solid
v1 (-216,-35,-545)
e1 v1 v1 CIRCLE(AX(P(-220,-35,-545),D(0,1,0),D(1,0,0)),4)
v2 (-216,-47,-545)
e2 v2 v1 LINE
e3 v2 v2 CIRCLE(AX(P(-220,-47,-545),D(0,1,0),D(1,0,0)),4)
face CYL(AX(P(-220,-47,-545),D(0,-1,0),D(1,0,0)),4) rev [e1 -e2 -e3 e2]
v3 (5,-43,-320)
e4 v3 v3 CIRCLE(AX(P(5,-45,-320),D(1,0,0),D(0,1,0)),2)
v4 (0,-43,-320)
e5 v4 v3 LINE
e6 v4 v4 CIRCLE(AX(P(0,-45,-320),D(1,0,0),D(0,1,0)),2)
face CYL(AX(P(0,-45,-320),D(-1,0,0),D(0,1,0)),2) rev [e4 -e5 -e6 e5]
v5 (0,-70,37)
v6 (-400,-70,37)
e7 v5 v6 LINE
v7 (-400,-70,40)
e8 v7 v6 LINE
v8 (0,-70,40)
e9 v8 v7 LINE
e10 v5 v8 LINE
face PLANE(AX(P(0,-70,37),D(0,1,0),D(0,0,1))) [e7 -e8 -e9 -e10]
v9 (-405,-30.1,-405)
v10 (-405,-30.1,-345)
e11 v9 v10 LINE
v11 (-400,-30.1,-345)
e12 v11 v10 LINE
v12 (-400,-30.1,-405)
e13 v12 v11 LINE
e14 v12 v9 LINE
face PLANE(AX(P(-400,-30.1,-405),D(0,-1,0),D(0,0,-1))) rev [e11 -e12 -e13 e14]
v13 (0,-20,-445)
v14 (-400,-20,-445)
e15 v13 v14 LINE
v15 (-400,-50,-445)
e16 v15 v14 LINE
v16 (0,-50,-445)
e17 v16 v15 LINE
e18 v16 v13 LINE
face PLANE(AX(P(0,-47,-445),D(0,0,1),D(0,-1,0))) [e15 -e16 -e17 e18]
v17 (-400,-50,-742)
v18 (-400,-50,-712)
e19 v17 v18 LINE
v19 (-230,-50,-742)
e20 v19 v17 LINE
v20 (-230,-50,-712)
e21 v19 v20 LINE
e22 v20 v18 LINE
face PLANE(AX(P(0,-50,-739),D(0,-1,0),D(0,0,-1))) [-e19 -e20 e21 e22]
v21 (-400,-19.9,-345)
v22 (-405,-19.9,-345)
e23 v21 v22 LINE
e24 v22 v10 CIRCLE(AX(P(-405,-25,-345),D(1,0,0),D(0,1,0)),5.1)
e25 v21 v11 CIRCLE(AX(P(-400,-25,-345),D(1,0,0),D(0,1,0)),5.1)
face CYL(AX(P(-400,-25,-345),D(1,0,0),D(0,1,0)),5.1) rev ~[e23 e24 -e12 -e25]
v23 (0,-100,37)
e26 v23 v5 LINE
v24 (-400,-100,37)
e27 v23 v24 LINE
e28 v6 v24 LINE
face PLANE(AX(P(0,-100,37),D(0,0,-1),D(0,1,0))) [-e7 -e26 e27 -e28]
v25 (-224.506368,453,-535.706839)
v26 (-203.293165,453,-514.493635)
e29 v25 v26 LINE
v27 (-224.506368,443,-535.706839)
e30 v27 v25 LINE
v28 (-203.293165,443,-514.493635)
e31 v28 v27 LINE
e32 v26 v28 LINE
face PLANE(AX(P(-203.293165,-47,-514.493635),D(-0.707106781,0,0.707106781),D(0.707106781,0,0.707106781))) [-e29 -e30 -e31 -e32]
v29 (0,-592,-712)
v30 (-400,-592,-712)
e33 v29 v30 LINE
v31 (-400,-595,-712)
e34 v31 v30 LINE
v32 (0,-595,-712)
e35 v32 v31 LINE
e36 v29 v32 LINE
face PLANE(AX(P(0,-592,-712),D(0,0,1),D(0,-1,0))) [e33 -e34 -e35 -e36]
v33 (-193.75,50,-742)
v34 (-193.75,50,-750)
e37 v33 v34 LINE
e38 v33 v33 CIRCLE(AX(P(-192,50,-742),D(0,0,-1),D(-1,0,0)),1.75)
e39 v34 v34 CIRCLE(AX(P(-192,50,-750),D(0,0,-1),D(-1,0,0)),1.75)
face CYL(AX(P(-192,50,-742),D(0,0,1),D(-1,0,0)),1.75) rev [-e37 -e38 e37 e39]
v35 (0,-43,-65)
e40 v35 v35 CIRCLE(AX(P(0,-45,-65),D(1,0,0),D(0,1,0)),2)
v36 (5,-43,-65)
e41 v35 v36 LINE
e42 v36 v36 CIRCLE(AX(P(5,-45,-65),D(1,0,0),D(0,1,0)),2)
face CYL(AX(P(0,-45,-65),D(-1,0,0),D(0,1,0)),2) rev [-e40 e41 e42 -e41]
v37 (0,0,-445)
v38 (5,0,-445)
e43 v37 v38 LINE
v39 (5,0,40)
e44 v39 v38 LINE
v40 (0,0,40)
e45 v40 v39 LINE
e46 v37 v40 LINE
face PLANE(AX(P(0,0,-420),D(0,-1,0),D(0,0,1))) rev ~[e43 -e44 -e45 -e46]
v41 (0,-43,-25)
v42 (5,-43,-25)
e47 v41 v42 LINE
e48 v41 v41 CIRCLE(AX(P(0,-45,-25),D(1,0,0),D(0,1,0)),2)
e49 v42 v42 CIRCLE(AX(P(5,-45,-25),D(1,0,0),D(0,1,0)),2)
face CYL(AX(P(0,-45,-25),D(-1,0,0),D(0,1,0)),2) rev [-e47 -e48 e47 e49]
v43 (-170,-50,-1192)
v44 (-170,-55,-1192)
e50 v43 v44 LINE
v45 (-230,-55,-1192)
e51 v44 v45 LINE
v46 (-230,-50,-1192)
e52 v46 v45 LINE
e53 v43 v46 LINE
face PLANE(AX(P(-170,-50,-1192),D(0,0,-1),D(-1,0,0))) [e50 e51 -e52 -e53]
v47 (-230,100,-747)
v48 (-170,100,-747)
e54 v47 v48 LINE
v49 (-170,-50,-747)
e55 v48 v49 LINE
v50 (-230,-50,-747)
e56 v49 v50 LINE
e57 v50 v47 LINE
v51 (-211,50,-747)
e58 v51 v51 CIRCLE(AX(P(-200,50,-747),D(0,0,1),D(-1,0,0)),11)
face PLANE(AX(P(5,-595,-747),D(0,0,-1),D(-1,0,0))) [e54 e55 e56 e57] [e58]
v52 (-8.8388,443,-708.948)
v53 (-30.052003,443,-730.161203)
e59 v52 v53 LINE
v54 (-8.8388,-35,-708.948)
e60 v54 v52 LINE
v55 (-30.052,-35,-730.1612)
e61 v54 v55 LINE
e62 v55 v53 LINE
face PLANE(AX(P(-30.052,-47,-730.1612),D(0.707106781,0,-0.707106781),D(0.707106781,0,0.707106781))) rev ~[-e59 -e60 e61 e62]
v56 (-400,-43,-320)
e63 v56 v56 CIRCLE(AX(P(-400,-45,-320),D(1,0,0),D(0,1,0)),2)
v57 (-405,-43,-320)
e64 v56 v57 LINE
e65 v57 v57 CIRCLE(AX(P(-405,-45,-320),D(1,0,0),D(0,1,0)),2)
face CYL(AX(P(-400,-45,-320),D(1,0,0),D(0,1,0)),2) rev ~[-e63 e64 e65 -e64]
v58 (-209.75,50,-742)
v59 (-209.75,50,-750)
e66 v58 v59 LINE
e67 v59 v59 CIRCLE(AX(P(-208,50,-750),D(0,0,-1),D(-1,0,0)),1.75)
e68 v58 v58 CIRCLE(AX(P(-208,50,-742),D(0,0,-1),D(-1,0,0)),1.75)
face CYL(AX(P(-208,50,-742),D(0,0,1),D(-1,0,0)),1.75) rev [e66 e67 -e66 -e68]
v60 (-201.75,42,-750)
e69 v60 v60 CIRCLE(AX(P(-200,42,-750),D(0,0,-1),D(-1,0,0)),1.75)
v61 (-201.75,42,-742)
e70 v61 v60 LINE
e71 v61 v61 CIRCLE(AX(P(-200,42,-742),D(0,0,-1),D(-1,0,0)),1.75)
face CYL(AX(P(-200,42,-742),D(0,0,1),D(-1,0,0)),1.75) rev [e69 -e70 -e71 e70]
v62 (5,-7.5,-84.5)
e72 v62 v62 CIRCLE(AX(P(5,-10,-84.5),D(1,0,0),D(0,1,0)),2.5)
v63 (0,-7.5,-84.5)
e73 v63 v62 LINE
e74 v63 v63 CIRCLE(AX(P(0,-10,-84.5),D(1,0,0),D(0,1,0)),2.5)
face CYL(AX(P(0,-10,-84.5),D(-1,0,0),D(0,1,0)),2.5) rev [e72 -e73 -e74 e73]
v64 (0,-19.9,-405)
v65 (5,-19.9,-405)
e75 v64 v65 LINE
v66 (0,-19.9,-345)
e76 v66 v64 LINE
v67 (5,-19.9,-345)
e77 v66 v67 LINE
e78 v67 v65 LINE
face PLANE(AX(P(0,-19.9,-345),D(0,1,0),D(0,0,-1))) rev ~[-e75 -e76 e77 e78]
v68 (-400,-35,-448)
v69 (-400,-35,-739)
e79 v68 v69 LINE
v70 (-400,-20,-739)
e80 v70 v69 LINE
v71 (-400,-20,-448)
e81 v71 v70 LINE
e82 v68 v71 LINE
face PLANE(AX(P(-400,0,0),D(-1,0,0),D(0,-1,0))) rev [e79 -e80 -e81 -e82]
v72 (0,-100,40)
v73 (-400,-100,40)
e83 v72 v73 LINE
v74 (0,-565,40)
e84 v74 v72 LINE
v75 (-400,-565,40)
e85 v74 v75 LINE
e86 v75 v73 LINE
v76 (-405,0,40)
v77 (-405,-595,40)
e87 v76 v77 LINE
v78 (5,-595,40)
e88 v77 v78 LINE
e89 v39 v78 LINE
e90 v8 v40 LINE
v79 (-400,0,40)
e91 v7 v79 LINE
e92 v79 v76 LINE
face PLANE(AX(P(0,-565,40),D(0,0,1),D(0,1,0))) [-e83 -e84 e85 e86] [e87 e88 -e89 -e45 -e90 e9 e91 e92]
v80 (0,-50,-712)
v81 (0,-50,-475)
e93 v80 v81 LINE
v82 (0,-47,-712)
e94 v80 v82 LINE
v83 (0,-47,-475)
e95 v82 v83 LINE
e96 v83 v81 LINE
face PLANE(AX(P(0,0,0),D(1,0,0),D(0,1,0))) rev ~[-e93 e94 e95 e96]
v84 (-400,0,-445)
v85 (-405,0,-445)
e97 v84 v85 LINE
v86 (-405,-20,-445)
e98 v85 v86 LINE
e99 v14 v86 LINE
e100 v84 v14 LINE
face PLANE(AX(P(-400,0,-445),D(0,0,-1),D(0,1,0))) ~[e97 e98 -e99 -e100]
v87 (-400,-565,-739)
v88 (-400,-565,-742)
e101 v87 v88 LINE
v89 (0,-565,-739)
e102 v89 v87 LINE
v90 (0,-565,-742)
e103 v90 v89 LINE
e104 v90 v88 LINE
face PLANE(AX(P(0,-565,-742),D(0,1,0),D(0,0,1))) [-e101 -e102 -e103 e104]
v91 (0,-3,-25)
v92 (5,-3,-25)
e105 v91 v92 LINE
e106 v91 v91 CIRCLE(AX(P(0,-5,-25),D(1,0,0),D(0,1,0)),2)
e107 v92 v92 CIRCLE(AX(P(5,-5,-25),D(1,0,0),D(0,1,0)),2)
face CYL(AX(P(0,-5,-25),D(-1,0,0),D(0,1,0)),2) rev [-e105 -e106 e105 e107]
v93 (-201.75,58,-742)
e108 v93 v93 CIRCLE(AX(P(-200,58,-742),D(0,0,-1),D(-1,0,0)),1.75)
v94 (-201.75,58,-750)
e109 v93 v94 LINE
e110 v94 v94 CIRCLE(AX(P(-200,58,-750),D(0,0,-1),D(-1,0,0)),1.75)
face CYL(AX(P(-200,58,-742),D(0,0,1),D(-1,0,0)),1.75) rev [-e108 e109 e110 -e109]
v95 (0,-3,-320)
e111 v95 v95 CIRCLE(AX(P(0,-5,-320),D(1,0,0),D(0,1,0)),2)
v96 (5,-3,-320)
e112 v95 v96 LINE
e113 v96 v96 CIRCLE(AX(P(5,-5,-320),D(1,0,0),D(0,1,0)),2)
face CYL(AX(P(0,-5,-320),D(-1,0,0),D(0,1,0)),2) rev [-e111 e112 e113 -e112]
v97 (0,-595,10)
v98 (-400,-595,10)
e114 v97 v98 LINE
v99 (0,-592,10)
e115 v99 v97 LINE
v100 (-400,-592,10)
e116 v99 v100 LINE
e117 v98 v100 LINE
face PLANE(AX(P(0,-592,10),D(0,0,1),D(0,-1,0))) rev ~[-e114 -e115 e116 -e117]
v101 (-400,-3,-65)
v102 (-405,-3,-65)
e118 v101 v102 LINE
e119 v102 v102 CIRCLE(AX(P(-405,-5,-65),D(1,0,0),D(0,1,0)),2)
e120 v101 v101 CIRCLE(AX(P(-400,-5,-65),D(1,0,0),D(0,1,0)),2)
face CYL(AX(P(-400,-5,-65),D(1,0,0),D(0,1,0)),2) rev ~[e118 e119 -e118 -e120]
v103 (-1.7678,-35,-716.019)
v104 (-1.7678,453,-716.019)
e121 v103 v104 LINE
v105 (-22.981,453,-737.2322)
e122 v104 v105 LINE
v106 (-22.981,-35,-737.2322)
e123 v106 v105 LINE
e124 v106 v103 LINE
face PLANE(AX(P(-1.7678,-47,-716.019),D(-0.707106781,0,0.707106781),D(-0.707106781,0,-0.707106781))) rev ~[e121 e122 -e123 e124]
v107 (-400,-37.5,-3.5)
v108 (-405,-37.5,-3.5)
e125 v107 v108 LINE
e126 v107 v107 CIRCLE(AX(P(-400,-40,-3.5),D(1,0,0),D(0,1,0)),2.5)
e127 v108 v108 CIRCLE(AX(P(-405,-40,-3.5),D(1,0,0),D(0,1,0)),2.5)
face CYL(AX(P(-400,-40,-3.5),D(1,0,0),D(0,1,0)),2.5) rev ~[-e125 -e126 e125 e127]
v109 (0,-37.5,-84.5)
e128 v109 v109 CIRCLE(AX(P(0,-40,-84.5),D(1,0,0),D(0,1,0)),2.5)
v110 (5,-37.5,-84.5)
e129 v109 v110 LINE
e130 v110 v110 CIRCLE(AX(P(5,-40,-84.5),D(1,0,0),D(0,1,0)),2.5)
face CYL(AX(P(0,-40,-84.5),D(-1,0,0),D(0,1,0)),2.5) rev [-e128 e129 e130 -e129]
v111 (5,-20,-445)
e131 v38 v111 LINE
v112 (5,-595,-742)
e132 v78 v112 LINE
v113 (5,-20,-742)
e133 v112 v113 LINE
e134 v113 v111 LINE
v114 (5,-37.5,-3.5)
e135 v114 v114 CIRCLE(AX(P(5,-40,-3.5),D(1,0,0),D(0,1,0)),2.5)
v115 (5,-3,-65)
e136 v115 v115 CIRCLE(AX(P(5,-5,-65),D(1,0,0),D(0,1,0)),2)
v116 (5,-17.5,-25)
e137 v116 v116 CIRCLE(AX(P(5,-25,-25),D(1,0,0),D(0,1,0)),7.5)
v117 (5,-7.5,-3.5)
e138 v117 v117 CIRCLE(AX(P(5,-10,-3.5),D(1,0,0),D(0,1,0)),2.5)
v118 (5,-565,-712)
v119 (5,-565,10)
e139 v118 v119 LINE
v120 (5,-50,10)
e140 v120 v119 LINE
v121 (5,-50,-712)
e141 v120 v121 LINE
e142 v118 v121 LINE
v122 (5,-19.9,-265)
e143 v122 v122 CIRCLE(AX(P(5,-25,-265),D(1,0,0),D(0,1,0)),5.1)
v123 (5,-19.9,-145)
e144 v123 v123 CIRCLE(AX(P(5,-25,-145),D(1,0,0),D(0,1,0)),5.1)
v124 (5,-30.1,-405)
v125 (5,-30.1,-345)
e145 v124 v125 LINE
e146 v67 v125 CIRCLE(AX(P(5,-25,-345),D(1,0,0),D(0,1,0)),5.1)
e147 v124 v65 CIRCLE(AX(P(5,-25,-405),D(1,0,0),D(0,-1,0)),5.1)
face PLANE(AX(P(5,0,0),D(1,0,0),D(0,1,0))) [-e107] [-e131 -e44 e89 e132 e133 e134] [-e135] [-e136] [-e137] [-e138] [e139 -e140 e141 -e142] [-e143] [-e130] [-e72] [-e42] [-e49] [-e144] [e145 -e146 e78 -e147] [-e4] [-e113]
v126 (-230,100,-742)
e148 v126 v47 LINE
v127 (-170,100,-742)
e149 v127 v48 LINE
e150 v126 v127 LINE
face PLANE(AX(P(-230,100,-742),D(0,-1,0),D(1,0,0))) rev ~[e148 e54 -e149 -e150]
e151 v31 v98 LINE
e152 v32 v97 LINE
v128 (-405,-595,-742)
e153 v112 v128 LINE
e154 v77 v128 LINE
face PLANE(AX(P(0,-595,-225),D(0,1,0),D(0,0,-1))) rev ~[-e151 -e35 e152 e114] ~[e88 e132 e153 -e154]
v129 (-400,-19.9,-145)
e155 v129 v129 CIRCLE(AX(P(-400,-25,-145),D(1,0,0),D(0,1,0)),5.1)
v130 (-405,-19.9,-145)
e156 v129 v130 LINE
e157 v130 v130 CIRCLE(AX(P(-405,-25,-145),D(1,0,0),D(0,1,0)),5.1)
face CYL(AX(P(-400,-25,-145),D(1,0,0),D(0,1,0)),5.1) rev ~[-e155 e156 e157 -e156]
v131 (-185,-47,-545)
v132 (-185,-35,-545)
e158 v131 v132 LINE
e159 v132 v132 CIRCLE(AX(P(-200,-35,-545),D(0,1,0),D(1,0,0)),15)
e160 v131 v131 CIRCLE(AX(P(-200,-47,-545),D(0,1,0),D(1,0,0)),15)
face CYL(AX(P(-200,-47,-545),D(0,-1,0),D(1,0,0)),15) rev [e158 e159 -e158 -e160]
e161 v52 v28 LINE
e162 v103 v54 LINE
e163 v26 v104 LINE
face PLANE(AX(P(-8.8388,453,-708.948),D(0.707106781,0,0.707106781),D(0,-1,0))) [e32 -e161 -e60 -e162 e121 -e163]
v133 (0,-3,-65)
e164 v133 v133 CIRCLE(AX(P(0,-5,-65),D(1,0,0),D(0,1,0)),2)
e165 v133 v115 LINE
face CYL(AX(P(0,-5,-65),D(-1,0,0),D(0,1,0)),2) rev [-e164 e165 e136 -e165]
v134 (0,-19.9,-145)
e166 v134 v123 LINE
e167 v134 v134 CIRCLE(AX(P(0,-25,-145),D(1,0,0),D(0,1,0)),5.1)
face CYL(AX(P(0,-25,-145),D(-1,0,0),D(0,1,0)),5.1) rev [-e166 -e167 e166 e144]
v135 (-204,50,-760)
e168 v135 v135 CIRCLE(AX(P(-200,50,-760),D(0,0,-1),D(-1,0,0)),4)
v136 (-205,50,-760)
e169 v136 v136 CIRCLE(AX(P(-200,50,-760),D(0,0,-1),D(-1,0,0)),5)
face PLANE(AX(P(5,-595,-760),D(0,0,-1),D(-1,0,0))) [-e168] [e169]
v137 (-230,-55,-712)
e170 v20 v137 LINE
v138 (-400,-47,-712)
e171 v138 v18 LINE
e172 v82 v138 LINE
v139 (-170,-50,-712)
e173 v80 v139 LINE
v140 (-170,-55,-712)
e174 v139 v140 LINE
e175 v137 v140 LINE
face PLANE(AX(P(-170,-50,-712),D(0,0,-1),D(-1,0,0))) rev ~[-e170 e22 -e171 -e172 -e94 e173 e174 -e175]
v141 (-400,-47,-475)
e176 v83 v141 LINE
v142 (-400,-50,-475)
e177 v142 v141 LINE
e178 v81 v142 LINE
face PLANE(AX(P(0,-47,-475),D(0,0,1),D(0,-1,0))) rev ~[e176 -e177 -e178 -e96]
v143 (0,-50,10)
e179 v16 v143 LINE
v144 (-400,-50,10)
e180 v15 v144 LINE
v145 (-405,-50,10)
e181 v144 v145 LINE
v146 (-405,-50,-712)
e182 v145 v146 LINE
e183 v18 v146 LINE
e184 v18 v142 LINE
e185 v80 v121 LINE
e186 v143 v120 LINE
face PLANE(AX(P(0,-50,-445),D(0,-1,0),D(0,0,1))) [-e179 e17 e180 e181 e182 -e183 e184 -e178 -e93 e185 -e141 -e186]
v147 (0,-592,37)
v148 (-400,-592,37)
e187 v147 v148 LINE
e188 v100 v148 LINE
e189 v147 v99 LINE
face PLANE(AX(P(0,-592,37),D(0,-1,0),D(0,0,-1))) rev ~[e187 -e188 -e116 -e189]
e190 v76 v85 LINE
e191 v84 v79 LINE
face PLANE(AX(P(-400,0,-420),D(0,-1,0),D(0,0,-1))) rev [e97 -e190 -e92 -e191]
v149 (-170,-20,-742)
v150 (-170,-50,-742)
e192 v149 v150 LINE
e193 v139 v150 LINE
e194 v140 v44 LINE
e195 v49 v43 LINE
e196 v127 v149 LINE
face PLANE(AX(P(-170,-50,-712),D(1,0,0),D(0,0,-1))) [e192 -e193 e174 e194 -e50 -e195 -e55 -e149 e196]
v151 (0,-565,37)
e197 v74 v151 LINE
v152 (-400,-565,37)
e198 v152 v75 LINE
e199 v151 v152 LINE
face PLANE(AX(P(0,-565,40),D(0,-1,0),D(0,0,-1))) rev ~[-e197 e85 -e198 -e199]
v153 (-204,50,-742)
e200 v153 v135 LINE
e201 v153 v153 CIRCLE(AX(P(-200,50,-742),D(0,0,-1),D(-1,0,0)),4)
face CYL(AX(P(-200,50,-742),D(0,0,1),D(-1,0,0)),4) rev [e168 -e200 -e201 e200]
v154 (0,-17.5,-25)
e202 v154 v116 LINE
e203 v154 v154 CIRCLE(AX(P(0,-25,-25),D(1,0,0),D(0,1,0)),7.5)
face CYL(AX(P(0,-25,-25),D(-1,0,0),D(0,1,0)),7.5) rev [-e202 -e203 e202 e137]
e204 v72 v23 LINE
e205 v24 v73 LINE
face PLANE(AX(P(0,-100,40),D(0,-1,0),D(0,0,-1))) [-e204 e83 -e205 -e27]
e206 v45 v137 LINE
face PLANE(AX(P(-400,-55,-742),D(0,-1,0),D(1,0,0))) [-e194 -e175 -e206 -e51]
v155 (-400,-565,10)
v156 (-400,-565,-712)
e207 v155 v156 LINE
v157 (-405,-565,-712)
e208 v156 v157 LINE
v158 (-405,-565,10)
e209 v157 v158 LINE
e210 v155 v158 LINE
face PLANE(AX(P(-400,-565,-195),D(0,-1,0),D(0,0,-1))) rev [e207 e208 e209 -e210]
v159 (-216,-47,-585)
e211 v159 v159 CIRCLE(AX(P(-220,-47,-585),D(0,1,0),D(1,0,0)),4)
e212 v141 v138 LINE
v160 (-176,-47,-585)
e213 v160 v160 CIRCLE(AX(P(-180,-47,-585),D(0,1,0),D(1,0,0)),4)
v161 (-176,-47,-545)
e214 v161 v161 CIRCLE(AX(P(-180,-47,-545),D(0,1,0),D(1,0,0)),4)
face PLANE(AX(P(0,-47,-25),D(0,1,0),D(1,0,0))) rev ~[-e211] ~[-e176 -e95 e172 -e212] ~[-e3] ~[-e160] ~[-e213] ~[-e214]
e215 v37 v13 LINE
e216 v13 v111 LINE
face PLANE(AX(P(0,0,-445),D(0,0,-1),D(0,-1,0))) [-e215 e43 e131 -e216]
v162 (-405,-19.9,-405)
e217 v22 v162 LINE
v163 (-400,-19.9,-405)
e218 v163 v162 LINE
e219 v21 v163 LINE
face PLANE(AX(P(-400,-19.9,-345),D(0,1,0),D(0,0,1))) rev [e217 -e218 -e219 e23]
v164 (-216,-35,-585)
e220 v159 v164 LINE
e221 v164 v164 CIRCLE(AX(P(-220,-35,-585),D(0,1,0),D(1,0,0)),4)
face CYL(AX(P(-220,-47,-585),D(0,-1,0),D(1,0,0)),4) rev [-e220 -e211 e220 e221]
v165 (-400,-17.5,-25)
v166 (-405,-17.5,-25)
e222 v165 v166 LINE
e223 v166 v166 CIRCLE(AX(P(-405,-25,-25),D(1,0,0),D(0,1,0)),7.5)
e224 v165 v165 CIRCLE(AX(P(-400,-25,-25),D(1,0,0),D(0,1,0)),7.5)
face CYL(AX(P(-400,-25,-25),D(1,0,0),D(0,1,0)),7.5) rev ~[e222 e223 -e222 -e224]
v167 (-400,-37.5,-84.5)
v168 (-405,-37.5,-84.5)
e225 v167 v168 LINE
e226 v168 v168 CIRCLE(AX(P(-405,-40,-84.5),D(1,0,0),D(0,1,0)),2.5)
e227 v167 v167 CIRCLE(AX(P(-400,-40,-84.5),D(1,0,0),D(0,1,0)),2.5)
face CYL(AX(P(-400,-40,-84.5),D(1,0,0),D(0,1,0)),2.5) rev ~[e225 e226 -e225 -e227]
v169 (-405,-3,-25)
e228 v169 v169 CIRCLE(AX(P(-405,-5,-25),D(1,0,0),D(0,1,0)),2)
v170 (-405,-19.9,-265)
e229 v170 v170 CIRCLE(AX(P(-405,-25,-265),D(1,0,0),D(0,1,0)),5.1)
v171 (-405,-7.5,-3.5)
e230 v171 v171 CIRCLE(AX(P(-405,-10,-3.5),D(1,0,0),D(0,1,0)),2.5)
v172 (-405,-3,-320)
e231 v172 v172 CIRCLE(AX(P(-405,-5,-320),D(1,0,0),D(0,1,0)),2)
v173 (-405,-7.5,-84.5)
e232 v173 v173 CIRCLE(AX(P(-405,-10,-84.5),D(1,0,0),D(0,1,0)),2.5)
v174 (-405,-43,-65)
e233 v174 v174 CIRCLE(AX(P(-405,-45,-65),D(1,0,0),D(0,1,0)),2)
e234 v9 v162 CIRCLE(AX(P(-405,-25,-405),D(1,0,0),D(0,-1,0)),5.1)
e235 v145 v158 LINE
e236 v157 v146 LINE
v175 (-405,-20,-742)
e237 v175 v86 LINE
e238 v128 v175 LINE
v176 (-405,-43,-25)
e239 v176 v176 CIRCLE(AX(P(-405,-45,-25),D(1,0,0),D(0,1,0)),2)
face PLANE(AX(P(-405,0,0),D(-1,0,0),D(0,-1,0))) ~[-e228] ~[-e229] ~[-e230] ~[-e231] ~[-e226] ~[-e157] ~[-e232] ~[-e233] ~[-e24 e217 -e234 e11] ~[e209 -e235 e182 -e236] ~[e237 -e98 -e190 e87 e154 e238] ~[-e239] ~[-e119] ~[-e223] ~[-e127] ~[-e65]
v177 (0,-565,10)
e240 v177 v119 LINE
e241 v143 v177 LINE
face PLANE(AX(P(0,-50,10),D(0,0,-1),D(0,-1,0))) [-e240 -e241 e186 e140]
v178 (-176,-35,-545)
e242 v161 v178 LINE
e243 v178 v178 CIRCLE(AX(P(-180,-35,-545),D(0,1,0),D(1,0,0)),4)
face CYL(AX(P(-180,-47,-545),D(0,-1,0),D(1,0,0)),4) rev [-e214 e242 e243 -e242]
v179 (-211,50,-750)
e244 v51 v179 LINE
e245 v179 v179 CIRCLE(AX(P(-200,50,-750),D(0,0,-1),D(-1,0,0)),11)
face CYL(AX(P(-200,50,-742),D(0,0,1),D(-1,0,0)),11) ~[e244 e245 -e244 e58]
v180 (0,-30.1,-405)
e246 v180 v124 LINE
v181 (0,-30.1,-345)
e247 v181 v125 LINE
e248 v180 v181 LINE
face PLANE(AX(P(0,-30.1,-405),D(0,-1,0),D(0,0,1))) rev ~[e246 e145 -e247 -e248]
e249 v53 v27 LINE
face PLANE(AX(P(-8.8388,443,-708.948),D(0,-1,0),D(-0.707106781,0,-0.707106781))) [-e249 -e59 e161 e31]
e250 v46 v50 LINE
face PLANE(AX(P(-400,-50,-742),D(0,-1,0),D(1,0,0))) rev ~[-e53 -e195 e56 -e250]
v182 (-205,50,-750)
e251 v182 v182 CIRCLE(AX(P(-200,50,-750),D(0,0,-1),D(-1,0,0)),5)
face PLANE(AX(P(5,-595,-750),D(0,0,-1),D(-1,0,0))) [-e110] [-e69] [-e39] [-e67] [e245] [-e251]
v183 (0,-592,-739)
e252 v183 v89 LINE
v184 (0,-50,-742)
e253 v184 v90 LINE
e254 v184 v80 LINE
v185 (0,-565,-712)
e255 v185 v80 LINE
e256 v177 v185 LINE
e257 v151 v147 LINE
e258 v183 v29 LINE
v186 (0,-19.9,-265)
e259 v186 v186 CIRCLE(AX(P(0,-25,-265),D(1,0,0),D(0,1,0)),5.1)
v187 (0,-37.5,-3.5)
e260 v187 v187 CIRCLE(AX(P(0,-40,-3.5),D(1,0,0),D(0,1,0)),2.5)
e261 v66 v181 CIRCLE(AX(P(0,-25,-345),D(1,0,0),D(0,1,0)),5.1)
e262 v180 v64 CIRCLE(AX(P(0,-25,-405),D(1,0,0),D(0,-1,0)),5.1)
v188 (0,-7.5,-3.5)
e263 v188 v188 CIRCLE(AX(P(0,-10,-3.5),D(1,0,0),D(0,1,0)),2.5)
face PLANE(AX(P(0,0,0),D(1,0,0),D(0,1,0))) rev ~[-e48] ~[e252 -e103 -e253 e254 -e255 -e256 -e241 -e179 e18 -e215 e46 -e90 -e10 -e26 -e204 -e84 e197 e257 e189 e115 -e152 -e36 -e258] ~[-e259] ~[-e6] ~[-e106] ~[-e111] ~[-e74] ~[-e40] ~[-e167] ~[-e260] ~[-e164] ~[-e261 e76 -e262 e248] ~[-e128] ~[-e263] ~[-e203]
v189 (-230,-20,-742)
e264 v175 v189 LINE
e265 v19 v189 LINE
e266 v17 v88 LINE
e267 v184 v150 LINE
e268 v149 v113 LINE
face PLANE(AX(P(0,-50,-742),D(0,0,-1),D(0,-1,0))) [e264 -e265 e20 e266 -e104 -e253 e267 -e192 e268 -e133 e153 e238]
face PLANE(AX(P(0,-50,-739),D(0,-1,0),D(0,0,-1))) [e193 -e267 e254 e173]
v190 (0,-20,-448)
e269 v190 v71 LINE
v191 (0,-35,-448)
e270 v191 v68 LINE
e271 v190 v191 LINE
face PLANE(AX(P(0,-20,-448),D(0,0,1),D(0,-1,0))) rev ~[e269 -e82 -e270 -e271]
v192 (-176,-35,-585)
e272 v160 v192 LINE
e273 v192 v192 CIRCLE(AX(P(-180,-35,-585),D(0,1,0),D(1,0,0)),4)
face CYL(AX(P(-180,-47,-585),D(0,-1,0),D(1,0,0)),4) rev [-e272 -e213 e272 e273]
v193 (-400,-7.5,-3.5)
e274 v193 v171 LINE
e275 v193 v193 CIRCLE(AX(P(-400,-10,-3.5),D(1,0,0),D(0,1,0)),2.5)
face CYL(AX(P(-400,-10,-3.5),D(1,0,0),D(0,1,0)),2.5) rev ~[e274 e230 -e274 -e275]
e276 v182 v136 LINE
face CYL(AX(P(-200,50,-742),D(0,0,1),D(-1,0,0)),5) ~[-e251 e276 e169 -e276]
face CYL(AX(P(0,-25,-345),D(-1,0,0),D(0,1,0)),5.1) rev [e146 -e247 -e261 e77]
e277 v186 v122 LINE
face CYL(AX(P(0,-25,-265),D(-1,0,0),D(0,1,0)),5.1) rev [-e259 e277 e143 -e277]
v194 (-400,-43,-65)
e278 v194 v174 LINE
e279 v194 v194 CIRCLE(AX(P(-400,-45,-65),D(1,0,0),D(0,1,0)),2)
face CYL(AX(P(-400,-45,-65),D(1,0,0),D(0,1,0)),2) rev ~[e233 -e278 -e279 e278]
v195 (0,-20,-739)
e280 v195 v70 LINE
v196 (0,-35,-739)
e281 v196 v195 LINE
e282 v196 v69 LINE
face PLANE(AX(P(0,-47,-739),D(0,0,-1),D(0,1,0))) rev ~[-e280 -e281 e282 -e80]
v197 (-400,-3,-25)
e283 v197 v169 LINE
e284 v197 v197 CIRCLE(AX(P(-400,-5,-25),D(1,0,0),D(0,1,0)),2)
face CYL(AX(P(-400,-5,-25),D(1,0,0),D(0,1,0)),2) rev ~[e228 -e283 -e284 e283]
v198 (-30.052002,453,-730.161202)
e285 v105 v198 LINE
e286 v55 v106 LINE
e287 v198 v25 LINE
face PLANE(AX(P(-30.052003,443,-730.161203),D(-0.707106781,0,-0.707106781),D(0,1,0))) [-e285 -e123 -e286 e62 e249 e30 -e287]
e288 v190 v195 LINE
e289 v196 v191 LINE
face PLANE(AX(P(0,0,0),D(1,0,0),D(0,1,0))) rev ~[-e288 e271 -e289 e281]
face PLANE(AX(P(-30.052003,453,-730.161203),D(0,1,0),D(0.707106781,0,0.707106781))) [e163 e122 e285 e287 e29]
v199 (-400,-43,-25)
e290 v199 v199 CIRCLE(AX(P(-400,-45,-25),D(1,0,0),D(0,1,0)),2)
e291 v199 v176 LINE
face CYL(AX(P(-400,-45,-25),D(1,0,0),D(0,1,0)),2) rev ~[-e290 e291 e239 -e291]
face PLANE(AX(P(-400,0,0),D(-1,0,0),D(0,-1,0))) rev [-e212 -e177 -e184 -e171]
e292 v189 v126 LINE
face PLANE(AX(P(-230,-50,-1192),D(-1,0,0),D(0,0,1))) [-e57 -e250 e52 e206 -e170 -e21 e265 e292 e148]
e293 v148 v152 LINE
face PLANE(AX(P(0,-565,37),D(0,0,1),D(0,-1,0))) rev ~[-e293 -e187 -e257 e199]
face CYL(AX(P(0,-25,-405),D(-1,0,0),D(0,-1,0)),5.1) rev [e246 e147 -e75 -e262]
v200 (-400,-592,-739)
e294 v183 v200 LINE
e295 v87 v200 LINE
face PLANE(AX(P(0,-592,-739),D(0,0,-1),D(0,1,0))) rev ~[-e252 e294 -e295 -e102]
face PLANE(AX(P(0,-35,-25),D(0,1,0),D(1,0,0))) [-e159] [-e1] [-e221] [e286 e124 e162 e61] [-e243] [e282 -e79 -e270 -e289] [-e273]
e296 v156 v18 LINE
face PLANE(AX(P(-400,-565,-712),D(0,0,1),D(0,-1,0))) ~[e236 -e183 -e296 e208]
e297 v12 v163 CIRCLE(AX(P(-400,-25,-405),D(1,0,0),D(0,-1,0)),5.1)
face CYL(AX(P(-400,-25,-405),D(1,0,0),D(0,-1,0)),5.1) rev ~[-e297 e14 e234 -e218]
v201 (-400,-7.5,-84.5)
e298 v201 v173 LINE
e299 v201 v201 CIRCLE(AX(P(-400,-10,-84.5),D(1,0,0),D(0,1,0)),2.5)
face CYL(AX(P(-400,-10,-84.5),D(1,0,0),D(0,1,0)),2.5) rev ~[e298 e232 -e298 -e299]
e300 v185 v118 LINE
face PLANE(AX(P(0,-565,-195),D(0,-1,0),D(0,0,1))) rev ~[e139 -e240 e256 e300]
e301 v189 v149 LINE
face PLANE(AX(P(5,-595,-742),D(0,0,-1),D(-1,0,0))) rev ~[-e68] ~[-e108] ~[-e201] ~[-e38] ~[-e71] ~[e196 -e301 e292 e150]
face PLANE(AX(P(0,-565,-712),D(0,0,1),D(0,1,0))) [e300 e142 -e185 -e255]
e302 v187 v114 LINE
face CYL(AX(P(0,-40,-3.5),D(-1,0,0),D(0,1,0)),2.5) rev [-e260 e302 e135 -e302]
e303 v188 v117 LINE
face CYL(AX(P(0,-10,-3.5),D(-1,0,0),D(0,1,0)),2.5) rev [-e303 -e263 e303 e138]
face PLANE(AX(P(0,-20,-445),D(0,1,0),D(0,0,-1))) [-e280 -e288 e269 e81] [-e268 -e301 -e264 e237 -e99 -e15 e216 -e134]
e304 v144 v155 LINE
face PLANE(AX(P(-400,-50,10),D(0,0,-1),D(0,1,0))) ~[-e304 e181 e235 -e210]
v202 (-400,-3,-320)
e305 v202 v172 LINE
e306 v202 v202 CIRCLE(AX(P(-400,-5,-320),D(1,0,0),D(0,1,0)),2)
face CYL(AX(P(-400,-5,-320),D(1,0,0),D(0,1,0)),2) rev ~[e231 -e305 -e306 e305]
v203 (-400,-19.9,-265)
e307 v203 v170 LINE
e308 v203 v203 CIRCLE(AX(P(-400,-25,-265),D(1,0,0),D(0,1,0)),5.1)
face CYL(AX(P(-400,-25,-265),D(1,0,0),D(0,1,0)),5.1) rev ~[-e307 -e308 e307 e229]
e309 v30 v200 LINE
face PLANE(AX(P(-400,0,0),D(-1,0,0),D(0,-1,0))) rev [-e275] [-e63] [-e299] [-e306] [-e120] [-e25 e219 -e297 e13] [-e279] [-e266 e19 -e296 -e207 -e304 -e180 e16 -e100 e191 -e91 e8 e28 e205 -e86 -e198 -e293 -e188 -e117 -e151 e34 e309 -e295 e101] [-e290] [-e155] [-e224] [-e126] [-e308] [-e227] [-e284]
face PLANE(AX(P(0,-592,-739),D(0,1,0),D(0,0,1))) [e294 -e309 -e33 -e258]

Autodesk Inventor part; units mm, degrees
ref_plane "YZ Plane" through (0, 0, 0) normal (1, 0, 0) x (0, 1, 0)
ref_plane "XZ Plane" through (0, 0, 0) normal (0, 1, 0) x (-1, 0, 0)
sketch "Sketch1" plane through (0, 0, 0) normal (1, 0, 0) x (0, 1, 0)
  line L0 (0, -410) -> (0, 0)
  line L1 (-25, 0) -> (-25, -25) construction
  circle A0 centre (-25, -25) radius 5.1
  circle A1 centre (-25, -145) radius 5.1
  circle A2 centre (-25, -265) radius 5.1
  circle A3 centre (-25, -385) radius 5.1 construction
  line L2 (0, -420) -> (0, -410)
  line L3 (-50, -35) -> (-50, 0)
  line L4 (-55.25, -1) -> (-55.25, -91.5825) construction
  arc A4 (-55.25, -91.5825) -> (5.25, -91.5825) centre (-25, -1) ccw construction
  line L5 (5.25, -91.5825) -> (5.25, -1) construction
  line L6 (5.25, -1) -> (-55.25, -1) construction
  circle A5 centre (-5, -65) radius 2
  circle A6 centre (-45, -65) radius 2
  circle A7 centre (-45, -25) radius 2
  circle A8 centre (-5, -25) radius 2
  circle A9 centre (-25, -25) radius 7.5
  line L7 (0, 435) -> (0, 0) construction
  line L8 (-50, 432) -> (-50, 405) construction
  line L9 (-50, -5) -> (-50, -125) construction
  line L10 (-25, -25) -> (-5, -25) construction
  circle A10 centre (-40, -84.5) radius 2.5
  line L11 (-40, -84.5) -> (-10, -84.5) construction
  circle A11 centre (-40, -84.5) radius 2.5
  circle A12 centre (-10, -84.5) radius 2.5
  circle A13 centre (-40, -3.5) radius 2.5
  circle A14 centre (-10, -3.5) radius 2.5
  line L12 (-40, -3.5) -> (-10, -3.5) construction
  circle A15 centre (-25, -25) radius 3.9303 construction
  line L13 (-10, -3.5) -> (-40, -84.5) construction
  line L14 (-25, -4) -> (-25, -3.5) construction
  line L15 (-15, 435) -> (-15, 405) construction
  circle A16 centre (-15, 405) radius 4 construction
  circle A17 centre (-15, 373) radius 4 construction
  circle A18 centre (-15, 341) radius 4 construction
  circle A19 centre (-15, 309) radius 4 construction
  circle A20 centre (-15, 277) radius 4 construction
  circle A21 centre (-15, 245) radius 4 construction
  circle A22 centre (-25, -375) radius 4 construction
  line L16 (-25, -375) -> (-25, -405) construction
  line L17 (-25, -375) -> (-25, -345) construction
  line L18 (-25, -405) -> (-25, -345) construction
  line L19 (-30.1, -405) -> (-30.1, -345)
  line L20 (-19.9, -345) -> (-19.9, -405)
  arc A23 (-30.1, -405) -> (-19.9, -405) centre (-25, -405) ccw
  arc A24 (-19.9, -345) -> (-30.1, -345) centre (-25, -345) ccw
  line L21 (-25, -405) -> (-25, -445) construction
  line L22 (0, -420) -> (0, -445)
  line L23 (-25, -375) -> (-25, -320) construction
  line L24 (-25, -320) -> (-5, -320) construction
  circle A25 centre (-5, -320) radius 2
  circle A26 centre (-45, -320) radius 2
  line L25 (-50, 435) -> (-595, 435) construction
  line L26 (-595, 435) -> (-595, 405) construction
  line L27 (-565, 405) -> (-50, 405) construction
  line L28 (-50, 405) -> (-50, 432) construction
  line L29 (-45, -742) -> (-595, -742)
  line L30 (-595, -742) -> (-595, -712)
  line L31 (-565, -712) -> (-50, -712)
  line L32 (-595, -712) -> (-565, -712) construction
  line L33 (-595, 405) -> (-595, -742)
  line L34 (-50, 0) -> (-120.4948, 0)
  line L35 (-50, -390) -> (-50, -225) construction
  line L36 (-50, -195) -> (-50, -225)
  line L37 (-50, -390) -> (-50, -420)
  line L38 (-50, -445) -> (-50, -420)
  line L39 (-50, -445) -> (-50, -742)
  line L40 (-565, -742) -> (-565, -225)
  line L41 (-50, -35) -> (-50, -195)
  line L42 (-50, -225) -> (-50, -390)
  line L43 (-50, 435) -> (0, 435) construction
  line L44 (0, 435) -> (0, 432) construction
  line L45 (0, 432) -> (-50, 432) construction
  line L46 (-50, 432) -> (-50, 435) construction
  line L47 (-565, -742) -> (-595, -742)
  line L48 (-595, -742) -> (-595, -739)
  line L49 (-592, -739) -> (-565, -739)
  line L50 (-565, -739) -> (-565, -742)
  line L51 (-595, -742) -> (-592, -742)
  line L52 (-592, -739) -> (-592, -712)
  line L53 (-595, -712) -> (-595, -742)
  line L54 (-595, 435) -> (-565, 435) construction
  line L55 (-565, 435) -> (-565, 432) construction
  line L56 (-565, 432) -> (-592, 432) construction
  line L57 (-595, 432) -> (-595, 435) construction
  line L58 (-595, 435) -> (-592, 435) construction
  line L59 (-592, 432) -> (-592, 405) construction
  line L60 (-592, 405) -> (-595, 405) construction
  line L61 (-595, 405) -> (-595, 435) construction
  line L62 (-595, -195) -> (-595, -225)
  line L63 (0, 0) -> (0, 10)
  line L64 (-50, 10) -> (-565, 10)
  line L65 (-565, 10) -> (-565, 40) construction
  line L66 (-565, 40) -> (0, 40)
  line L67 (0, 40) -> (0, 10)
  line L68 (-565, 40) -> (-595, 40)
  line L69 (-565, -195) -> (-565, 10)
  line L70 (-565, 40) -> (-565, 405) construction
  line L71 (-565, -225) -> (-565, -195)
  line L72 (-595, 40) -> (-592, 40)
  line L73 (-592, 37) -> (-592, 10)
  line L74 (-592, 10) -> (-595, 10)
  line L75 (-595, 10) -> (-595, 40)
  line L76 (-595, 40) -> (-565, 40)
  line L77 (-565, 40) -> (-565, 37)
  line L78 (-565, 37) -> (-592, 37)
  line L79 (-595, 37) -> (-595, 40)
  line L80 (0, 432) -> (-50, 432) construction
  line L81 (-50, 432) -> (-50, 435) construction
  line L82 (-50, 435) -> (0, 435) construction
  line L83 (0, 435) -> (0, 432) construction
  line L84 (-50, -5) -> (-50, 10)
  line L85 (-50, 40) -> (-50, 405) construction
  line L86 (0, -445) -> (-50, -445)
  line L87 (-50, -445) -> (-20, -445)
  line L88 (-20, -445) -> (-20, -448)
  line L89 (-20, -448) -> (-47, -448)
  line L90 (-50, -448) -> (-50, -445)
  line L91 (-50, -445) -> (-47, -445)
  line L92 (-47, -448) -> (-47, -475)
  line L93 (-47, -475) -> (-50, -475)
  line L94 (-50, -475) -> (-50, -445)
  line L95 (-50, -445) -> (-20, -445)
  line L96 (-20, -445) -> (-20, -742)
  line L97 (-20, -742) -> (-50, -742)
  line L98 (-50, -742) -> (-50, -445)
  line L99 (-20, -742) -> (-50, -742)
  line L100 (-50, -742) -> (-50, -739)
  line L101 (-47, -739) -> (-20, -739)
  line L102 (-20, -739) -> (-20, -742)
  line L103 (-50, -712) -> (-47, -712)
  line L104 (-47, -712) -> (-47, -739)
  line L105 (-47, -742) -> (-50, -742)
  line L106 (-50, -742) -> (-50, -712)
  line L107 (-592, -712) -> (-595, -712)
  line L108 (-50, 40) -> (-70, 40) construction
  line L109 (-70, 40) -> (-100, 40)
  line L110 (-100, 40) -> (-100, 37)
  line L111 (-100, 37) -> (-70, 37)
  line L112 (-70, 37) -> (-70, 40)
  point P0 (0, -93.1697)
  point P1 (0, -1)
  point P2 (-54.9, 0)
  point P3 (0, 40)
  point P4 (-50, -742)
  point P5 (-50, -712)
  point P6 (-50, -712)
  dimension "d12" = 25
  dimension "d13" = 10.2
  dimension "d16" = 120
  dimension "d30" = 4
  dimension "d96" = 30
  dimension "d114" = 30
  dimension "d115" = 0.5
  dimension "d116" = 30
  dimension "d117" = 8
  dimension "d120" = 32
  dimension "d151" = 30
  dimension "d152" = 30
  dimension "d153" = 40
  dimension "d155" = 55
  dimension "d156" = 20
  dimension "d157" = 4
  dimension "d159" = 30
  dimension "d160" = 30
  dimension "d161" = 30
  dimension "d162" = 165
  dimension "d164" = 3
  dimension "d165" = 3
  dimension "d167" = 3
  dimension "d168" = 3
  dimension "d173" = 30
  dimension "d174" = 3
  dimension "d175" = 30
  dimension "d176" = 3
  dimension "d177" = 30
  dimension "d183" = 30
  dimension "d186" = 20
  dimension "d187" = 30
extrude "Extrusion1" add sketch "Sketch1" along normal blind 5 contours L2 L22 L86 L38 L37 L42 L36 L41 L3 L84 L64 L69 L71 L40 L49 L52 L107 L33 L74 L73 L78 L77 L66 L110 L111 L112 L67 L63 L0 | L88 L89 L92 L93 L39 L86 | L112 L111 L110 L66 | L96 L101 L104 L103 L39 L93 L92 L89 | L96 L97 L29 L39 L103 L104 L101 | L77 L78 L73 L74 L33 L68 | L39 L29 L40 L31 | L40 L29 L30 L107 L52 L49
ref_plane "Work Plane1" through (-200, 0, 0) normal (-1, 0, 0) x (0, 0, 1)
mirror "Mirror1" about plane through (-200, 0, 0) normal (-1, 0, 0) of "Extrusion1"
extrude "Extrusion4" add sketch "Sketch1" against normal up to next contours L88 L89 L92 L93 L39 L86 | L112 L111 L110 L66 | L96 L97 L29 L39 L103 L104 L101 | L77 L78 L73 L74 L33 L68 | L40 L29 L30 L107 L52 L49
sketch "Sketch5" plane through (0, -47, -25) normal (0, 1, 0) x (1, 0, 0)
  line L0 (-200, 520) -> (-200, 501) construction
  line L1 (0, 420) -> (0, -25) construction
  line L2 (0, 714) -> (-14.1421, 699.8579) construction
  line L3 (-1.7678, 691.019) -> (-22.981, 712.2322)
  line L4 (-22.981, 712.2322) -> (-26.5165, 708.6967)
  line L5 (-26.5165, 708.6967) -> (-5.3033, 687.4835)
  line L6 (-5.3033, 687.4835) -> (-1.7678, 691.019)
  line L7 (-1.7678, 691.019) -> (-26.5165, 708.6967) construction
  line L8 (-22.981, 712.2322) -> (-5.3033, 687.4835) construction
  line L9 (-26.5165, 708.6967) -> (-30.052, 705.1612)
  line L10 (-30.052, 705.1612) -> (-8.8388, 683.948)
  line L11 (-8.8388, 683.948) -> (-5.3033, 687.4835)
  line L12 (-405, 687) -> (-405, -35) projected
  line L13 (-200, 423) -> (-200, 520) construction
  line L14 (-169.75, 496) -> (-169.75, 586.5825) construction
  arc A0 (-169.75, 586.5825) -> (-230.25, 586.5825) centre (-200, 496) ccw construction
  line L15 (-230.25, 586.5825) -> (-230.25, 496) construction
  line L16 (-230.25, 496) -> (-169.75, 496) construction
  circle A1 centre (-220, 560) radius 4
  circle A2 centre (-180, 560) radius 4
  circle A3 centre (-180, 520) radius 4
  circle A4 centre (-220, 520) radius 4
  circle A5 centre (-200, 520) radius 15
  line L17 (0, 450) -> (0, 423) projected
  line L18 (0, 714) -> (-400, 714) projected
  line L19 (0, 423) -> (-400, 423)
  line L20 (-400, 423) -> (-400, 714)
  line L21 (-400, 714) -> (0, 714)
  line L22 (0, 714) -> (0, 423)
  point P0 (0, -25)
  point P1 (0, 420)
  point P2 (5, 423)
  point P3 (-405, 423)
  point P4 (0, 714)
  dimension "d144" = 20
  dimension "d145" = 30
  dimension "d146" = 5
  dimension "d150" = 5
  dimension "d178" = 97
  dimension "d182" = 30
extrude "Extrusion6" add sketch "Sketch5" along normal blind 12 contours L6 L5 L4 L3 | L11 L10 L9 L5 | L17 L19 L20 L18 L22
extrude "Extrusion8" add sketch "Sketch5" along normal blind 500 contours L6 L5 L4 L3 | L11 L10 L9 L5
sketch "Sketch10" plane through (-8.8388, -47, -708.948) normal (-0.7071, 0, 0.7071) x (0.7071, 0, 0.7071)
  line L0 (0, 0) -> (0, 345) projected
  line L1 (-30, 500) -> (0, 500)
  line L2 (0, 500) -> (0, 490)
  line L3 (0, 490) -> (-30, 490)
  line L4 (-30, 490) -> (-30, 500)
  point P0 (507.5519, 47)
  dimension "d147" = 10
extrude "Extrusion11" add sketch "Sketch10" along normal blind 275
sketch "Sketch11" plane through (-400, -50, -742) normal (0, -1, 0) x (1, 0, 0)
  line L0 (400, 30) -> (0, 30) projected
  line L1 (200, 30) -> (170, 30)
  line L2 (200, 30) -> (230, 30)
  line L3 (170, 30) -> (230, 30)
  line L4 (230, 30) -> (230, -450)
  line L5 (230, -450) -> (170, -450)
  line L6 (170, -450) -> (170, 30)
  point P0 (400, 742)
  dimension "d188" = 30
  dimension "d189" = 30
  dimension "d190" = 480
extrude "Extrusion12" add sketch "Sketch11" along normal blind 5
sketch "Sketch12" plane through (5, -595, -742) normal (0, 0, -1) x (-1, 0, 0)
  line L0 (5, 545) -> (175, 545) projected
  line L1 (175, 545) -> (235, 545)
  line L2 (235, 545) -> (235, 695)
  line L3 (235, 695) -> (175, 695)
  line L4 (175, 695) -> (175, 545)
  line L5 (175, 695) -> (235, 695) construction
  line L6 (235, 695) -> (235, 645) construction
  line L7 (235, 645) -> (175, 645) construction
  line L8 (175, 645) -> (175, 695) construction
  circle A0 centre (205, 645) radius 11
  line L9 (205, 645) -> (205, 653) construction
  circle A1 centre (205, 653) radius 1.75
  circle A2 centre (197, 645) radius 1.75
  circle A3 centre (205, 637) radius 1.75
  circle A4 centre (213, 645) radius 1.75
  circle A5 centre (205, 645) radius 5
  circle A6 centre (205, 645) radius 4
  point P0 (5, 595)
  dimension "d193" = 150
  dimension "d194" = 50
  dimension "d195" = 22
  dimension "d196" = 8
  dimension "d197" = 3.5
  dimension "d200" = 360
  dimension "d202" = 10
  dimension "d207" = 8
extrude "Extrusion13" add sketch "Sketch12" along normal blind 5 contours L4 L3 L2 L1 | A0
extrude "Extrusion14" add sketch "Sketch12" along normal blind 8 contours A0
extrude "Extrusion15" add sketch "Sketch12" along normal blind 18 contours A5
properties part number "Structure"
